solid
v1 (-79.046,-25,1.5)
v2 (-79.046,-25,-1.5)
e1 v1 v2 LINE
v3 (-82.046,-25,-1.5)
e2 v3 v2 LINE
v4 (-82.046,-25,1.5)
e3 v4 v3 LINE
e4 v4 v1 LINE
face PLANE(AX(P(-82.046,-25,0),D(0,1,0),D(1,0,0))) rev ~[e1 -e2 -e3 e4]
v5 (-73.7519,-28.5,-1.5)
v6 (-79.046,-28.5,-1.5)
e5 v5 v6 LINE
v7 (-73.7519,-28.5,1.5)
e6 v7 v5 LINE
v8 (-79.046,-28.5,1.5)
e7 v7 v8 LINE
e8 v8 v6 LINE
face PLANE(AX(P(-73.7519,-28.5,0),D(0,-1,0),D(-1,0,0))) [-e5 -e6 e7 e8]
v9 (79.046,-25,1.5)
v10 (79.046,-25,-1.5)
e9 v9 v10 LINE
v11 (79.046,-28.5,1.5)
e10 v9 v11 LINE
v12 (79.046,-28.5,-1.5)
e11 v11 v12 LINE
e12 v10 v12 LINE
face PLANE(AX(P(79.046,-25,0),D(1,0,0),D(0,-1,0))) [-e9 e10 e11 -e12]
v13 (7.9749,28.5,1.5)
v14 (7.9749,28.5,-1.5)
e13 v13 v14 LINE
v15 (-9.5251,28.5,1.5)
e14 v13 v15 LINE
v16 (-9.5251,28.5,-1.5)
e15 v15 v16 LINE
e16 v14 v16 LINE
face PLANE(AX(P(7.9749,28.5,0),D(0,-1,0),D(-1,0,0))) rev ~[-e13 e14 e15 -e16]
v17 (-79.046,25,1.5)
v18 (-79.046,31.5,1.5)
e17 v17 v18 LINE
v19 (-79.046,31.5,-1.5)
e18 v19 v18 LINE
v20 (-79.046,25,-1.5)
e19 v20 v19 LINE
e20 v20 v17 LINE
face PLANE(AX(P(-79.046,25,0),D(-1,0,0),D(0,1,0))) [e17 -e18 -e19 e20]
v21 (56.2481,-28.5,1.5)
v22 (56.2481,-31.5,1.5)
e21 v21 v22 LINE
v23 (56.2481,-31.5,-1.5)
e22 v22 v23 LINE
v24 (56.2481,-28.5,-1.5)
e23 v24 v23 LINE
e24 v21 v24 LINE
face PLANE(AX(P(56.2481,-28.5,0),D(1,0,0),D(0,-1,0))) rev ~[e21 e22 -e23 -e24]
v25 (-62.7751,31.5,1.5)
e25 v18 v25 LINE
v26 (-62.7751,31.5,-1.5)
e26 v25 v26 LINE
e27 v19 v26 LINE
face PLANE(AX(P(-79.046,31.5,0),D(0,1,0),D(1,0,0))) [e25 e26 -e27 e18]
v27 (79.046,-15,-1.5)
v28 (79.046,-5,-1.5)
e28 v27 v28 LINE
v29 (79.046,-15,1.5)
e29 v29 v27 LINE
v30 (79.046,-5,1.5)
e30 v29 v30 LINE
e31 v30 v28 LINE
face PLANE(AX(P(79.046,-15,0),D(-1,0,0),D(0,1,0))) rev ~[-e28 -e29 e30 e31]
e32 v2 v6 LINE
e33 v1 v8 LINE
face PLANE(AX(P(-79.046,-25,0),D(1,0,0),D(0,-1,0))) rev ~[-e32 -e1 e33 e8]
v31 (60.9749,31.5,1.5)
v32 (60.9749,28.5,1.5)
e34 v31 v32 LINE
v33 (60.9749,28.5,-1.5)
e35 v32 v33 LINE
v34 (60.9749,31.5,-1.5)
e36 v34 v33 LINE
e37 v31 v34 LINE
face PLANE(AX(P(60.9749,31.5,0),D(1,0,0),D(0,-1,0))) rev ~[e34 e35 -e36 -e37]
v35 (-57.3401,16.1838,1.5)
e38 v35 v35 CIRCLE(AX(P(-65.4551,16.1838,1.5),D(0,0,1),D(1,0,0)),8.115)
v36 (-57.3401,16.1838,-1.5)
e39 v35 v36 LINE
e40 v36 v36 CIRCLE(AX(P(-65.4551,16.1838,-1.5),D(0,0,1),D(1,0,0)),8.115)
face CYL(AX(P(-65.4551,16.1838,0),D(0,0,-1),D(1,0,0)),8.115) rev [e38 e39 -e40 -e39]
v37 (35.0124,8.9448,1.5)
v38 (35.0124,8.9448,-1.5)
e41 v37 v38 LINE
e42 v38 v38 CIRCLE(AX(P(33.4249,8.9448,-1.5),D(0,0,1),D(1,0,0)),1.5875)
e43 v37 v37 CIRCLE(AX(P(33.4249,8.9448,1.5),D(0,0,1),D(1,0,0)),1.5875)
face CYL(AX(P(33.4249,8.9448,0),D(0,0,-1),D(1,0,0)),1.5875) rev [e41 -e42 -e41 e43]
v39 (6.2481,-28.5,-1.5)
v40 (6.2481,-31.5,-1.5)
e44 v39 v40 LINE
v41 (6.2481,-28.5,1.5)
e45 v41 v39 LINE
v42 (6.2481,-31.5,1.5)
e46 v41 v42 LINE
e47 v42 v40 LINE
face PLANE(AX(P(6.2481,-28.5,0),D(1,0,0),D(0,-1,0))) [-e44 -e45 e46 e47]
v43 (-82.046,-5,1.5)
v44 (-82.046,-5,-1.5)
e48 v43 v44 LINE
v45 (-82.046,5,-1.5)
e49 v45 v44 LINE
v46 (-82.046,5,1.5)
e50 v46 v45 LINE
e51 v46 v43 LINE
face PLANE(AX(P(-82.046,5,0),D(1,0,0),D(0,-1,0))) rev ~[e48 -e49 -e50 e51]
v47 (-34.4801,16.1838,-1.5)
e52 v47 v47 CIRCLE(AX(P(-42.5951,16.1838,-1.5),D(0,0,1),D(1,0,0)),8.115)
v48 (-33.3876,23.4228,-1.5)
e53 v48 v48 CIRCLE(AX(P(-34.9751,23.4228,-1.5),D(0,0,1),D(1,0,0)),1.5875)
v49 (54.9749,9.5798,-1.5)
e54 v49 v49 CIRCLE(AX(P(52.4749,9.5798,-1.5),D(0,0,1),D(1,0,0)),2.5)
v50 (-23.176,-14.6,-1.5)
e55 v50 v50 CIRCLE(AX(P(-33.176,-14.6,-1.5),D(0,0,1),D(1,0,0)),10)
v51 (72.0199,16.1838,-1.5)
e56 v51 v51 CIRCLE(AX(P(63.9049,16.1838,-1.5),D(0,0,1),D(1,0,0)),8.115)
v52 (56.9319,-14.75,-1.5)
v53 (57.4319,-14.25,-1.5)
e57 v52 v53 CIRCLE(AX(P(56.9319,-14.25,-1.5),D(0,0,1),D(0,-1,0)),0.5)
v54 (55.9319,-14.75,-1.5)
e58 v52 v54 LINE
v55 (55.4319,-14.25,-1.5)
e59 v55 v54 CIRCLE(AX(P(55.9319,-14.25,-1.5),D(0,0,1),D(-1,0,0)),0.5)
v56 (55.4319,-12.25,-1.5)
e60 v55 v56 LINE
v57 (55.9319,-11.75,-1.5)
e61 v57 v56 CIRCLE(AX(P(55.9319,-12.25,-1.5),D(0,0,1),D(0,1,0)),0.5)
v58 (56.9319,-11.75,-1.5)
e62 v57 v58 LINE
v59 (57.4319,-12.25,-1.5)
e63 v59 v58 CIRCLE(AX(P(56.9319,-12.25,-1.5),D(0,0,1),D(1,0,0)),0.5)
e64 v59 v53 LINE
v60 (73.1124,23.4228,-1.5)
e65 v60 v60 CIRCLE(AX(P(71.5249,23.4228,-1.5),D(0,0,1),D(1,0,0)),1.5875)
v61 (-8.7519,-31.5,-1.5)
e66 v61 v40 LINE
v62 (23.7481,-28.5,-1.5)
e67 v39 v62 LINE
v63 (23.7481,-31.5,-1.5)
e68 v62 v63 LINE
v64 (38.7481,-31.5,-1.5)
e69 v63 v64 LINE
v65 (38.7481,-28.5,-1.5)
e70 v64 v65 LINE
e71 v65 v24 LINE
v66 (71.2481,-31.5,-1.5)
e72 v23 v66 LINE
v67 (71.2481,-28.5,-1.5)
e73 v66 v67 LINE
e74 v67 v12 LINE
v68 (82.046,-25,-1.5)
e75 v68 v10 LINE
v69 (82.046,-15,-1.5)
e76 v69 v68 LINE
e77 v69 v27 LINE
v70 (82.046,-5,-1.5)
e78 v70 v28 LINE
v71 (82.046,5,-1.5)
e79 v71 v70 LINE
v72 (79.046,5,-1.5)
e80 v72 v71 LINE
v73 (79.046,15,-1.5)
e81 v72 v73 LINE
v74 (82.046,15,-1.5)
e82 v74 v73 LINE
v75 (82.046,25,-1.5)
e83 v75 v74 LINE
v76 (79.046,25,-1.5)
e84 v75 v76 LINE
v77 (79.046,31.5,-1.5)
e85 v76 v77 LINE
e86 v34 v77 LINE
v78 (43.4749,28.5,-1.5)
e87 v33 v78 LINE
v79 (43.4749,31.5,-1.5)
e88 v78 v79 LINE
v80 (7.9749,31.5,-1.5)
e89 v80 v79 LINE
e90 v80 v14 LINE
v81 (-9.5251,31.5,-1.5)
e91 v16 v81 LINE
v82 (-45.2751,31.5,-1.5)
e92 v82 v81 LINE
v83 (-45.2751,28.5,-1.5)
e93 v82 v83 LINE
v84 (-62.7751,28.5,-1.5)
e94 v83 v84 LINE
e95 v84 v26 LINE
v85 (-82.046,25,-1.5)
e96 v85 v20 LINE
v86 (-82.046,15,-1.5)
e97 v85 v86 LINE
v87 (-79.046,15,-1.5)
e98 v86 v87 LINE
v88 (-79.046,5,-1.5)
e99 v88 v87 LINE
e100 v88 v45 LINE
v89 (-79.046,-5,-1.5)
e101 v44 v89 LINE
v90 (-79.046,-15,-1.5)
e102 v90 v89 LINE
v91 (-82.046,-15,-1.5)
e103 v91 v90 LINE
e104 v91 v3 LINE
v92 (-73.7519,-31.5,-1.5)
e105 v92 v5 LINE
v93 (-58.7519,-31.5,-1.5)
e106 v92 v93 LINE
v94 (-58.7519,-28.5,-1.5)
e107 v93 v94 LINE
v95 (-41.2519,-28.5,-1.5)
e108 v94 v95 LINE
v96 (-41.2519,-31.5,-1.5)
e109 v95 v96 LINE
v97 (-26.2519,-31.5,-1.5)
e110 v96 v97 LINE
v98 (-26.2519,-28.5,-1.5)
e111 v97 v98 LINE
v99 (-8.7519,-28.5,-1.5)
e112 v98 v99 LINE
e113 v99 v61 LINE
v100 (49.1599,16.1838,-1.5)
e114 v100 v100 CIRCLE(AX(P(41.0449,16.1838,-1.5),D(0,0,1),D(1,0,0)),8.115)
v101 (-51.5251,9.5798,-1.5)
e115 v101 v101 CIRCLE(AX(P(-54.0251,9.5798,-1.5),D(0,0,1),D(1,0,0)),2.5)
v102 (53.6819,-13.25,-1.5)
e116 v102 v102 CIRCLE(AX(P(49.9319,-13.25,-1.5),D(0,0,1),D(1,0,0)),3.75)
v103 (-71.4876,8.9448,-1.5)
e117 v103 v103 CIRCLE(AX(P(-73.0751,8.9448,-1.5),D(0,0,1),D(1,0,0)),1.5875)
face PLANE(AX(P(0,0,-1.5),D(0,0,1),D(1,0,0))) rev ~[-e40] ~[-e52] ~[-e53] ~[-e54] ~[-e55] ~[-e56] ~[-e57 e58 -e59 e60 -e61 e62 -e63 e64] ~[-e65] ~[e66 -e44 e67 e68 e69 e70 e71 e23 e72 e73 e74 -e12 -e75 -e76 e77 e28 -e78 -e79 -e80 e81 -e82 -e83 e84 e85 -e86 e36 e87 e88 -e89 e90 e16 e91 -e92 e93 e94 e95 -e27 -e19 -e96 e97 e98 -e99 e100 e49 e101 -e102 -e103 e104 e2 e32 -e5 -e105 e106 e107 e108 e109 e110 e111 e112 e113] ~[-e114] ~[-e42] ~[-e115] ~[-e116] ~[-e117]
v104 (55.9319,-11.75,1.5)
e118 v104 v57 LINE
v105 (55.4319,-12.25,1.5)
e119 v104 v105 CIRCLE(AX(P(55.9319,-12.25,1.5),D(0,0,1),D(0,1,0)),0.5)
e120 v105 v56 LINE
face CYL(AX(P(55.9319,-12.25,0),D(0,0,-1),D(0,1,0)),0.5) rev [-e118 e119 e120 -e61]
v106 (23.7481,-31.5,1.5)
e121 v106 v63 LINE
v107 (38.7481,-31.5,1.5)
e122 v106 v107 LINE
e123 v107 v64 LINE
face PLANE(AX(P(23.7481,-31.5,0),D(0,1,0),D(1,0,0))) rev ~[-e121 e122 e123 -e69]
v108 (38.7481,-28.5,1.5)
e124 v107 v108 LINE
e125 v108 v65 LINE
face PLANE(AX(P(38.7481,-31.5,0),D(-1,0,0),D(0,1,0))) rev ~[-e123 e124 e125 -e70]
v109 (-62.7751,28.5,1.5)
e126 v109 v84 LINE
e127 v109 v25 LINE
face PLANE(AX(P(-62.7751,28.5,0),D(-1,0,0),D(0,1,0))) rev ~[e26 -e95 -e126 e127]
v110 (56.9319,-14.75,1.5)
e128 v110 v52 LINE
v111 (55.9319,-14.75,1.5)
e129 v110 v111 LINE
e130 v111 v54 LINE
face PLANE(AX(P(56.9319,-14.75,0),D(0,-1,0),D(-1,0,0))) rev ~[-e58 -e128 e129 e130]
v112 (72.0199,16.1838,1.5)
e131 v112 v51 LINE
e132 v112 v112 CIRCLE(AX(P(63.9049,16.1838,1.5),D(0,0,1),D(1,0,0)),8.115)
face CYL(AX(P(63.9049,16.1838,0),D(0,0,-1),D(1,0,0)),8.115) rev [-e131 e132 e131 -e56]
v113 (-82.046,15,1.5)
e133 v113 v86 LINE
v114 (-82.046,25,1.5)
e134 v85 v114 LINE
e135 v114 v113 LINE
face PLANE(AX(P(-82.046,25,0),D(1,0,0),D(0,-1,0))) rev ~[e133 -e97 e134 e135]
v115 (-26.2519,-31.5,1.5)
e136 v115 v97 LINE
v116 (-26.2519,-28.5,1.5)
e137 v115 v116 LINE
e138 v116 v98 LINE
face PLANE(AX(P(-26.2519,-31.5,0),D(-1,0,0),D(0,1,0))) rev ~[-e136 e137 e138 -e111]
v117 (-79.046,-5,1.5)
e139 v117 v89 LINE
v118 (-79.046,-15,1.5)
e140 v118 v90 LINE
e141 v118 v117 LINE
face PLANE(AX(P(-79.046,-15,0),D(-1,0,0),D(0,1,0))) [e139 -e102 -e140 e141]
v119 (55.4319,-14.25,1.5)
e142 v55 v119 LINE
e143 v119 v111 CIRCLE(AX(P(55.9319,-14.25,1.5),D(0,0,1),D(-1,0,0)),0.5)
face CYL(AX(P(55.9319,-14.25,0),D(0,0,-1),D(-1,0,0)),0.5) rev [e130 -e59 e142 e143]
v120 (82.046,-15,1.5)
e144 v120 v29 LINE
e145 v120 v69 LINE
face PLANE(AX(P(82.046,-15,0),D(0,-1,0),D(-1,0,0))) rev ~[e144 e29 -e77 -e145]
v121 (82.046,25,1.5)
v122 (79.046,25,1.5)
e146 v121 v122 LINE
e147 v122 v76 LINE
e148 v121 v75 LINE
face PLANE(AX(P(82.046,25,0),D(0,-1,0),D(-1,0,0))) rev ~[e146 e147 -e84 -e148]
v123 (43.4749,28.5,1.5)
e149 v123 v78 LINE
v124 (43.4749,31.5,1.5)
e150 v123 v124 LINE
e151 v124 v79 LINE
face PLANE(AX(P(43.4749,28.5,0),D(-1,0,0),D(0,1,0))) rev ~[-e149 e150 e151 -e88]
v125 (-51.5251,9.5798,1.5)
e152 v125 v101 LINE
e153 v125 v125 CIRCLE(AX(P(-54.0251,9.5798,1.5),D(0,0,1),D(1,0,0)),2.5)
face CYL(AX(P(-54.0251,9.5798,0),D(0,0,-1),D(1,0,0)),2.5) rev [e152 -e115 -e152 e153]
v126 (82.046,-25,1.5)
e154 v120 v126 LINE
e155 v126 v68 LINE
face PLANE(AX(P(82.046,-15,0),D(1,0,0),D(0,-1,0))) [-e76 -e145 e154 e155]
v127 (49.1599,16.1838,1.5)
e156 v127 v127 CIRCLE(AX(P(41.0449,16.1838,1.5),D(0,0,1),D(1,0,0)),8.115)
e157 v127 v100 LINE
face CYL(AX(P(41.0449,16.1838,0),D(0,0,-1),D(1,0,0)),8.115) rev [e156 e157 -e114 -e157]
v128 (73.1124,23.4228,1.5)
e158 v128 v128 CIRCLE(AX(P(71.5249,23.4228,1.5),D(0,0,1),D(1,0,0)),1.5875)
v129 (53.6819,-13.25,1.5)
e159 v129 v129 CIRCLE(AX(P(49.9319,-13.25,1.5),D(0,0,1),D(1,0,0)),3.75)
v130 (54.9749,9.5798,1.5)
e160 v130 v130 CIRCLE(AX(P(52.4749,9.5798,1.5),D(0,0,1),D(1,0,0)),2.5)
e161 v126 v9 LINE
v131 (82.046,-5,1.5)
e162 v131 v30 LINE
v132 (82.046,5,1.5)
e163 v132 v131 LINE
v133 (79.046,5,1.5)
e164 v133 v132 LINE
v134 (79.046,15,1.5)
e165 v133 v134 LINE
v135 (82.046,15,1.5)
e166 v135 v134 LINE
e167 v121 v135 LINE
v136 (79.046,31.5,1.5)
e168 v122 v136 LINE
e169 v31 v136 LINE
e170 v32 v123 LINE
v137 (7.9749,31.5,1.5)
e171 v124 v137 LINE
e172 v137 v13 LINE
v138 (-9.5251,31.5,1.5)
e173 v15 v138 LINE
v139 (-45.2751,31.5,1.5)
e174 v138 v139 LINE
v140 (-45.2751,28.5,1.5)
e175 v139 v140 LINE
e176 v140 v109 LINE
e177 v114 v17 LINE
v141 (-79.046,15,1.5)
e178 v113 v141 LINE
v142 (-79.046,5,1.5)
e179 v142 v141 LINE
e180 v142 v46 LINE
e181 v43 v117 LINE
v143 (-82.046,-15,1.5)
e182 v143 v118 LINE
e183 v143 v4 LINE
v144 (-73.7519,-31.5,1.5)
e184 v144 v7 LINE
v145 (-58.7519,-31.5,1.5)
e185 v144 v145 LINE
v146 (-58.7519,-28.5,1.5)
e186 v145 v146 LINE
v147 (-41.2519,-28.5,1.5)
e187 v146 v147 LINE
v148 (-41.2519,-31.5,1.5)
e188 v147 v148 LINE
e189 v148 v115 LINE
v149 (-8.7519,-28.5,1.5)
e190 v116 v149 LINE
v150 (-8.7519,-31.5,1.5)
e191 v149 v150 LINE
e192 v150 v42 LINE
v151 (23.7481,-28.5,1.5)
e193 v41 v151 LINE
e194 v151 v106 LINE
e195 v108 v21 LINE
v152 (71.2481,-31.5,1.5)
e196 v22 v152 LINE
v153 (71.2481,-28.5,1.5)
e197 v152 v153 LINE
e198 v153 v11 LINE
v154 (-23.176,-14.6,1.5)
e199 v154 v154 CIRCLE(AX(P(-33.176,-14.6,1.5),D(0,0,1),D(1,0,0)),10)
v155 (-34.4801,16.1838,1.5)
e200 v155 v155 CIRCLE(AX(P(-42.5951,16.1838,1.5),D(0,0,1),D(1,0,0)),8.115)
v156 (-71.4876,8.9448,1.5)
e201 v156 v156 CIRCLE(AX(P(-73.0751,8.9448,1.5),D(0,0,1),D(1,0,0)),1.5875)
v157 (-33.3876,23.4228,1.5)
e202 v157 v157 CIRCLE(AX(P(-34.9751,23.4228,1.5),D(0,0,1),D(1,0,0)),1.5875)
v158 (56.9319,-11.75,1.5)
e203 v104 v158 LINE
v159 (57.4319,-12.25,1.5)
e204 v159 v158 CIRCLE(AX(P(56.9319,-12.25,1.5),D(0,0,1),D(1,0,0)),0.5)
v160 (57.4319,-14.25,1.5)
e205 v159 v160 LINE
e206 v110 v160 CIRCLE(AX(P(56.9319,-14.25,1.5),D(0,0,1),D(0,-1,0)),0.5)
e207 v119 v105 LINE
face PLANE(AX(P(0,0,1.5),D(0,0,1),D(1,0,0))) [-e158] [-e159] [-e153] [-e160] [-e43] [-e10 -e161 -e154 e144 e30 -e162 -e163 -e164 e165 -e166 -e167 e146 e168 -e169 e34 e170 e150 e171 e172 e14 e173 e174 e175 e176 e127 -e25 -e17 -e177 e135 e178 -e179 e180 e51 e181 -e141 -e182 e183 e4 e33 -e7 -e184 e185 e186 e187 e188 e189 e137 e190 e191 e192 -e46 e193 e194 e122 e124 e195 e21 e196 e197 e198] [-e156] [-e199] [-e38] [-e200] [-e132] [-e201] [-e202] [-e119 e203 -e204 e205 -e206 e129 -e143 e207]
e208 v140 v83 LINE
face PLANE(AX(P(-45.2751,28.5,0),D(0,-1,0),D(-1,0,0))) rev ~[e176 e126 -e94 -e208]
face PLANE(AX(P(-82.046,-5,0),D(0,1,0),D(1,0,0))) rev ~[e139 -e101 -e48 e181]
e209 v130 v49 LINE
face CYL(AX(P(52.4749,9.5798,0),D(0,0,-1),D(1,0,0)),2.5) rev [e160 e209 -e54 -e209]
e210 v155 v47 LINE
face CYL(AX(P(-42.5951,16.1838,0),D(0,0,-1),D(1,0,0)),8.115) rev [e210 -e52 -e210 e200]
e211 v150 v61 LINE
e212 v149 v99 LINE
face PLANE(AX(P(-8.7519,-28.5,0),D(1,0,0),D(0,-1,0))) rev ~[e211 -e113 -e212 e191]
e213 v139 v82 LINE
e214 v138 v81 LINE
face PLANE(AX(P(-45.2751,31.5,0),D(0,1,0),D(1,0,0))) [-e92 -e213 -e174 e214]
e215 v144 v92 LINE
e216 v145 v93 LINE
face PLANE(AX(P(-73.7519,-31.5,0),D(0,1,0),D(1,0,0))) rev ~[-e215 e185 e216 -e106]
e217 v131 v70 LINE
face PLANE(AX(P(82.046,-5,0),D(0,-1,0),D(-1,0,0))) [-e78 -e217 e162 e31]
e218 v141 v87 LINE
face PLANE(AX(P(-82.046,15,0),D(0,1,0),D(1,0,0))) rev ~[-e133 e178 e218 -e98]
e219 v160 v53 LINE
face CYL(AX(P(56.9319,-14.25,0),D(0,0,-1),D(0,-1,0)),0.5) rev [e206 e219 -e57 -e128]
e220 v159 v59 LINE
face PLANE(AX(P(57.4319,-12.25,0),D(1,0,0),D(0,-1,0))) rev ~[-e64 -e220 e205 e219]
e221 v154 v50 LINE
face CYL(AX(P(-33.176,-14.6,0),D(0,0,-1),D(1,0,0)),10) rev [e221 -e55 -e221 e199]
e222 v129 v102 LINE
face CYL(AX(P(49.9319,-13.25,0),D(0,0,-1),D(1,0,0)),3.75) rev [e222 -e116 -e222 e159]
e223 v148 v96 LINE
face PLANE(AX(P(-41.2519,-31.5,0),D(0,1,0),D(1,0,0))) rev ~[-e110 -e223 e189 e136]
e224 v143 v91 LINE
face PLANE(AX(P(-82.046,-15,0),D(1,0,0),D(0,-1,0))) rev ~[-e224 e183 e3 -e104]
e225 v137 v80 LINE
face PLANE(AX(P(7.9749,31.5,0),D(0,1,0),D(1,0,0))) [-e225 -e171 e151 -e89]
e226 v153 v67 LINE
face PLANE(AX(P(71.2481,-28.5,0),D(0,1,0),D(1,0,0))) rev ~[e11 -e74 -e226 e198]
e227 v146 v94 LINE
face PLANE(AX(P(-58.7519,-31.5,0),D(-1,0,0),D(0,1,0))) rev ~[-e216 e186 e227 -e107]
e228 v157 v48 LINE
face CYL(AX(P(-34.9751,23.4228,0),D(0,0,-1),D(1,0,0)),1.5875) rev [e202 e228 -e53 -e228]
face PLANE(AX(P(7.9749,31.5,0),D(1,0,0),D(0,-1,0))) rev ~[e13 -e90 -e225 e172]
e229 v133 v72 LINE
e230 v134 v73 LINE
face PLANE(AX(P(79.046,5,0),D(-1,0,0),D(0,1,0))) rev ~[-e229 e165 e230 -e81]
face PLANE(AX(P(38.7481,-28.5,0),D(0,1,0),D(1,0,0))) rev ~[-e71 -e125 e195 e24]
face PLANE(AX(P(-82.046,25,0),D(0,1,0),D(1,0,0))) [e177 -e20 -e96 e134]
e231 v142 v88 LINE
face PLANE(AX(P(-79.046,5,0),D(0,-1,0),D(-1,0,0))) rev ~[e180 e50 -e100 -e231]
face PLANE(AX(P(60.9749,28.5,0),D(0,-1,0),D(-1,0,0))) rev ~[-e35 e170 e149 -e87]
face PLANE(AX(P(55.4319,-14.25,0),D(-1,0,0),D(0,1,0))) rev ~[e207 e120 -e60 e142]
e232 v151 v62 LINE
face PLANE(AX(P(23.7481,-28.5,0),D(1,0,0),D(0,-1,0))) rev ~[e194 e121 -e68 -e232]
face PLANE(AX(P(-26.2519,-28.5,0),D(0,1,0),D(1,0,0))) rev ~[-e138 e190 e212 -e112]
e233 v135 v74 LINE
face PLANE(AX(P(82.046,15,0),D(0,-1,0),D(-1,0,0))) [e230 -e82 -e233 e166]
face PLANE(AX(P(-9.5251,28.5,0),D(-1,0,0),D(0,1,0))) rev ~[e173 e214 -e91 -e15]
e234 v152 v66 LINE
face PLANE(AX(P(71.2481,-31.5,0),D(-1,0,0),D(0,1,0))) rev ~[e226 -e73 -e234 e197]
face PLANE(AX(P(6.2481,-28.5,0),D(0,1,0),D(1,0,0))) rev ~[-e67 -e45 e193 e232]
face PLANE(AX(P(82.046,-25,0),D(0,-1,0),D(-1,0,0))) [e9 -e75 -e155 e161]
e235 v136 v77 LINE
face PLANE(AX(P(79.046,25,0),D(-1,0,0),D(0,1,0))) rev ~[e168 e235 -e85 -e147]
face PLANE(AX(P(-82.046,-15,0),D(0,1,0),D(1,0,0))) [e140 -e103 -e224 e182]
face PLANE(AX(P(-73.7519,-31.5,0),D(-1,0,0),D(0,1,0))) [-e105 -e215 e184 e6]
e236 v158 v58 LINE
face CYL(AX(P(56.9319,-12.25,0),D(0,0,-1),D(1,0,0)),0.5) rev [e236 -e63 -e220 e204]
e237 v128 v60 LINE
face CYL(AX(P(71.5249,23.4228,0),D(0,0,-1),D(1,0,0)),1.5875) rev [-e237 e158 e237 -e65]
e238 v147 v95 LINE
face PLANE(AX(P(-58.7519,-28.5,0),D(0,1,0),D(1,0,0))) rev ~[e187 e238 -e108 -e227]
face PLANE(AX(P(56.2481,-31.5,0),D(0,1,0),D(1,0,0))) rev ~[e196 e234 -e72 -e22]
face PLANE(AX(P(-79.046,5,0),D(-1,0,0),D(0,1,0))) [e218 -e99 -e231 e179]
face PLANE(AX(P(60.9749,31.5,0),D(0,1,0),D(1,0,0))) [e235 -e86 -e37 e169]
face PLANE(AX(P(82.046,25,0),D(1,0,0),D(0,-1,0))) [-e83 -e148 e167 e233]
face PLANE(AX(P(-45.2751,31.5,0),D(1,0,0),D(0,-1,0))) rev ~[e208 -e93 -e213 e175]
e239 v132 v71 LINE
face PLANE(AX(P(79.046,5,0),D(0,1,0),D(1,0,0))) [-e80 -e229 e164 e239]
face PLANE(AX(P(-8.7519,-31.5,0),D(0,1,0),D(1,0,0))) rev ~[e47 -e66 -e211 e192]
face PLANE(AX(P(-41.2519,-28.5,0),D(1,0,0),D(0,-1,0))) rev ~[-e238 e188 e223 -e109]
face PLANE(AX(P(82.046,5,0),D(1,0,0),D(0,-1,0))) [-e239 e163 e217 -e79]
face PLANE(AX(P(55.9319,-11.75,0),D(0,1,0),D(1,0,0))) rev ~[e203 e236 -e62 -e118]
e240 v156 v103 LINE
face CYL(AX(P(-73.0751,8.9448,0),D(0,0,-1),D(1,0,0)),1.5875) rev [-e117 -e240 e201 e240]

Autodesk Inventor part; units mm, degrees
ref_plane "YZ Plane" through (0, 0, 0) normal (1, 0, 0) x (0, 1, 0)
ref_plane "XZ Plane" through (0, 0, 0) normal (0, 1, 0) x (-1, 0, 0)
ref_plane "XY Plane" through (0, 0, 0) normal (0, 0, 1) x (1, 0, 0)
sketch "Sketch1" plane through (0, 0, 0) normal (0, 0, 1) x (1, 0, 0)
  line L0 (-79.046, 31.5) -> (-62.7751, 31.5)
  line L1 (-62.7751, 28.5) -> (-62.7751, 31.5)
  line L2 (-45.2751, 28.5) -> (-62.7751, 28.5)
  line L3 (-45.2751, 31.5) -> (-45.2751, 28.5)
  line L4 (-45.2751, 31.5) -> (-26.3822, 31.5)
  line L5 (-26.3822, 31.5) -> (-9.5251, 31.5)
  line L6 (-9.5251, 28.5) -> (-9.5251, 31.5)
  line L7 (7.9749, 28.5) -> (-9.5251, 28.5)
  line L8 (7.9749, 31.5) -> (7.9749, 28.5)
  line L9 (7.9749, 31.5) -> (24.8319, 31.5)
  line L10 (24.8319, 31.5) -> (43.4749, 31.5)
  line L11 (43.4749, 28.5) -> (43.4749, 31.5)
  line L12 (60.9749, 28.5) -> (43.4749, 28.5)
  line L13 (60.9749, 31.5) -> (60.9749, 28.5)
  line L14 (60.9749, 31.5) -> (79.046, 31.5)
  circle A0 centre (-73.0751, 8.9448) radius 1.5875
  circle A1 centre (-65.4551, 16.1838) radius 8.115
  circle A2 centre (-42.5951, 16.1838) radius 8.115
  circle A3 centre (-54.0251, 9.5798) radius 2.5
  circle A4 centre (-34.9751, 23.4228) radius 1.5875
  circle A5 centre (33.4249, 8.9448) radius 1.5875
  circle A6 centre (52.4749, 9.5798) radius 2.5
  circle A7 centre (41.0449, 16.1838) radius 8.115
  circle A8 centre (63.9049, 16.1838) radius 8.115
  circle A9 centre (71.5249, 23.4228) radius 1.5875
  circle A10 centre (49.9319, -13.25) radius 3.75
  line L15 (55.4319, -14.25) -> (55.4319, -12.25)
  arc A11 (55.9319, -11.75) -> (55.4319, -12.25) centre (55.9319, -12.25) ccw
  line L16 (55.9319, -11.75) -> (56.9319, -11.75)
  arc A12 (57.4319, -12.25) -> (56.9319, -11.75) centre (56.9319, -12.25) ccw
  line L17 (57.4319, -12.25) -> (57.4319, -14.25)
  arc A13 (56.9319, -14.75) -> (57.4319, -14.25) centre (56.9319, -14.25) ccw
  line L18 (56.9319, -14.75) -> (55.9319, -14.75)
  arc A14 (55.4319, -14.25) -> (55.9319, -14.75) centre (55.9319, -14.25) ccw
  circle A15 centre (-33.176, -14.6) radius 10
  line L19 (-79.046, 31.5) -> (79.046, -31.5) construction
  line L20 (79.046, 31.5) -> (-79.046, -31.5) construction
  line L21 (-8.7519, -31.5) -> (6.2481, -31.5)
  line L22 (-8.7519, -31.5) -> (6.2481, -28.5) construction
  line L23 (6.2481, -31.5) -> (-8.7519, -28.5) construction
  line L24 (-41.2519, -31.5) -> (-26.2519, -31.5)
  line L25 (-73.7519, -31.5) -> (-58.7519, -31.5)
  line L26 (23.7481, -31.5) -> (38.7481, -31.5)
  line L27 (-8.7519, -31.5) -> (6.2481, -31.5)
  line L28 (-41.2519, -31.5) -> (-26.2519, -31.5)
  line L29 (56.2481, -31.5) -> (71.2481, -31.5)
  line L30 (23.7481, -31.5) -> (38.7481, -31.5)
  line L31 (-8.7519, -31.5) -> (6.2481, -31.5)
  line L32 (-58.7519, -31.5) -> (-58.7519, -28.5)
  line L33 (-58.7519, -28.5) -> (-41.2519, -28.5)
  line L34 (-41.2519, -28.5) -> (-41.2519, -31.5)
  line L35 (-26.2519, -31.5) -> (-26.2519, -28.5)
  line L36 (-26.2519, -28.5) -> (-8.7519, -28.5)
  line L37 (-8.7519, -28.5) -> (-8.7519, -31.5)
  line L38 (6.2481, -28.5) -> (23.7481, -28.5)
  line L39 (23.7481, -28.5) -> (23.7481, -31.5)
  line L40 (38.7481, -31.5) -> (38.7481, -28.5)
  line L41 (38.7481, -28.5) -> (56.2481, -28.5)
  line L42 (56.2481, -28.5) -> (56.2481, -31.5)
  line L43 (71.2481, -31.5) -> (71.2481, -28.5)
  line L44 (71.2481, -28.5) -> (79.046, -28.5)
  line L45 (-73.7519, -31.5) -> (-73.7519, -28.5)
  line L46 (-73.7519, -28.5) -> (-79.046, -28.5)
  line L47 (-79.046, 5) -> (-82.046, 5)
  line L48 (-82.046, 5) -> (-82.046, -5)
  line L49 (-82.046, -5) -> (-79.046, -5)
  line L50 (-79.046, 5) -> (-82.046, -5) construction
  line L51 (-82.046, 5) -> (-79.046, -5) construction
  line L52 (0, 0) -> (0, 17) construction
  line L53 (-82.046, 25) -> (-82.046, 15)
  line L54 (-82.046, -15) -> (-82.046, -25)
  line L55 (-82.046, 5) -> (-82.046, -5)
  line L56 (-82.046, 25) -> (-79.046, 25)
  line L57 (-82.046, 15) -> (-79.046, 15)
  line L58 (-82.046, -15) -> (-79.046, -15)
  line L59 (-82.046, -25) -> (-79.046, -25)
  line L60 (-79.046, -25) -> (-79.046, -28.5)
  line L61 (-79.046, -15) -> (-79.046, -5)
  line L62 (-79.046, 5) -> (-79.046, 15)
  line L63 (-79.046, 25) -> (-79.046, 31.5)
  line L64 (79.046, 5) -> (82.046, 5)
  line L65 (82.046, 5) -> (82.046, -5)
  line L66 (82.046, -5) -> (79.046, -5)
  line L67 (79.046, 5) -> (82.046, -5) construction
  line L68 (82.046, 5) -> (79.046, -5) construction
  line L69 (82.046, 25) -> (82.046, 15)
  line L70 (82.046, -15) -> (82.046, -25)
  line L71 (82.046, 5) -> (82.046, -5)
  line L72 (82.046, 25) -> (79.046, 25)
  line L73 (82.046, 15) -> (79.046, 15)
  line L74 (82.046, -15) -> (79.046, -15)
  line L75 (82.046, -25) -> (79.046, -25)
  line L76 (79.046, -25) -> (79.046, -28.5)
  line L77 (79.046, -15) -> (79.046, -5)
  line L78 (79.046, 5) -> (79.046, 15)
  line L79 (79.046, 25) -> (79.046, 31.5)
  line L80 (6.2481, -28.5) -> (6.2481, -31.5)
  point P0 (0, 0)
  point P1 (-1.2519, -30)
  point P2 (-80.546, 0)
  point P3 (80.546, 0)
  dimension "d2" = 20
  dimension "d4" = 15
  dimension "d5" = 3
  dimension "d10" = 32.5
  dimension "d13" = 32.5
  dimension "d17" = 3
  dimension "d18" = 10
  dimension "d21" = 20
  dimension "d24" = 20
extrude "Extrusion1" add sketch "Sketch1" along normal mid plane 3
properties part number "srfsampingkiri"
